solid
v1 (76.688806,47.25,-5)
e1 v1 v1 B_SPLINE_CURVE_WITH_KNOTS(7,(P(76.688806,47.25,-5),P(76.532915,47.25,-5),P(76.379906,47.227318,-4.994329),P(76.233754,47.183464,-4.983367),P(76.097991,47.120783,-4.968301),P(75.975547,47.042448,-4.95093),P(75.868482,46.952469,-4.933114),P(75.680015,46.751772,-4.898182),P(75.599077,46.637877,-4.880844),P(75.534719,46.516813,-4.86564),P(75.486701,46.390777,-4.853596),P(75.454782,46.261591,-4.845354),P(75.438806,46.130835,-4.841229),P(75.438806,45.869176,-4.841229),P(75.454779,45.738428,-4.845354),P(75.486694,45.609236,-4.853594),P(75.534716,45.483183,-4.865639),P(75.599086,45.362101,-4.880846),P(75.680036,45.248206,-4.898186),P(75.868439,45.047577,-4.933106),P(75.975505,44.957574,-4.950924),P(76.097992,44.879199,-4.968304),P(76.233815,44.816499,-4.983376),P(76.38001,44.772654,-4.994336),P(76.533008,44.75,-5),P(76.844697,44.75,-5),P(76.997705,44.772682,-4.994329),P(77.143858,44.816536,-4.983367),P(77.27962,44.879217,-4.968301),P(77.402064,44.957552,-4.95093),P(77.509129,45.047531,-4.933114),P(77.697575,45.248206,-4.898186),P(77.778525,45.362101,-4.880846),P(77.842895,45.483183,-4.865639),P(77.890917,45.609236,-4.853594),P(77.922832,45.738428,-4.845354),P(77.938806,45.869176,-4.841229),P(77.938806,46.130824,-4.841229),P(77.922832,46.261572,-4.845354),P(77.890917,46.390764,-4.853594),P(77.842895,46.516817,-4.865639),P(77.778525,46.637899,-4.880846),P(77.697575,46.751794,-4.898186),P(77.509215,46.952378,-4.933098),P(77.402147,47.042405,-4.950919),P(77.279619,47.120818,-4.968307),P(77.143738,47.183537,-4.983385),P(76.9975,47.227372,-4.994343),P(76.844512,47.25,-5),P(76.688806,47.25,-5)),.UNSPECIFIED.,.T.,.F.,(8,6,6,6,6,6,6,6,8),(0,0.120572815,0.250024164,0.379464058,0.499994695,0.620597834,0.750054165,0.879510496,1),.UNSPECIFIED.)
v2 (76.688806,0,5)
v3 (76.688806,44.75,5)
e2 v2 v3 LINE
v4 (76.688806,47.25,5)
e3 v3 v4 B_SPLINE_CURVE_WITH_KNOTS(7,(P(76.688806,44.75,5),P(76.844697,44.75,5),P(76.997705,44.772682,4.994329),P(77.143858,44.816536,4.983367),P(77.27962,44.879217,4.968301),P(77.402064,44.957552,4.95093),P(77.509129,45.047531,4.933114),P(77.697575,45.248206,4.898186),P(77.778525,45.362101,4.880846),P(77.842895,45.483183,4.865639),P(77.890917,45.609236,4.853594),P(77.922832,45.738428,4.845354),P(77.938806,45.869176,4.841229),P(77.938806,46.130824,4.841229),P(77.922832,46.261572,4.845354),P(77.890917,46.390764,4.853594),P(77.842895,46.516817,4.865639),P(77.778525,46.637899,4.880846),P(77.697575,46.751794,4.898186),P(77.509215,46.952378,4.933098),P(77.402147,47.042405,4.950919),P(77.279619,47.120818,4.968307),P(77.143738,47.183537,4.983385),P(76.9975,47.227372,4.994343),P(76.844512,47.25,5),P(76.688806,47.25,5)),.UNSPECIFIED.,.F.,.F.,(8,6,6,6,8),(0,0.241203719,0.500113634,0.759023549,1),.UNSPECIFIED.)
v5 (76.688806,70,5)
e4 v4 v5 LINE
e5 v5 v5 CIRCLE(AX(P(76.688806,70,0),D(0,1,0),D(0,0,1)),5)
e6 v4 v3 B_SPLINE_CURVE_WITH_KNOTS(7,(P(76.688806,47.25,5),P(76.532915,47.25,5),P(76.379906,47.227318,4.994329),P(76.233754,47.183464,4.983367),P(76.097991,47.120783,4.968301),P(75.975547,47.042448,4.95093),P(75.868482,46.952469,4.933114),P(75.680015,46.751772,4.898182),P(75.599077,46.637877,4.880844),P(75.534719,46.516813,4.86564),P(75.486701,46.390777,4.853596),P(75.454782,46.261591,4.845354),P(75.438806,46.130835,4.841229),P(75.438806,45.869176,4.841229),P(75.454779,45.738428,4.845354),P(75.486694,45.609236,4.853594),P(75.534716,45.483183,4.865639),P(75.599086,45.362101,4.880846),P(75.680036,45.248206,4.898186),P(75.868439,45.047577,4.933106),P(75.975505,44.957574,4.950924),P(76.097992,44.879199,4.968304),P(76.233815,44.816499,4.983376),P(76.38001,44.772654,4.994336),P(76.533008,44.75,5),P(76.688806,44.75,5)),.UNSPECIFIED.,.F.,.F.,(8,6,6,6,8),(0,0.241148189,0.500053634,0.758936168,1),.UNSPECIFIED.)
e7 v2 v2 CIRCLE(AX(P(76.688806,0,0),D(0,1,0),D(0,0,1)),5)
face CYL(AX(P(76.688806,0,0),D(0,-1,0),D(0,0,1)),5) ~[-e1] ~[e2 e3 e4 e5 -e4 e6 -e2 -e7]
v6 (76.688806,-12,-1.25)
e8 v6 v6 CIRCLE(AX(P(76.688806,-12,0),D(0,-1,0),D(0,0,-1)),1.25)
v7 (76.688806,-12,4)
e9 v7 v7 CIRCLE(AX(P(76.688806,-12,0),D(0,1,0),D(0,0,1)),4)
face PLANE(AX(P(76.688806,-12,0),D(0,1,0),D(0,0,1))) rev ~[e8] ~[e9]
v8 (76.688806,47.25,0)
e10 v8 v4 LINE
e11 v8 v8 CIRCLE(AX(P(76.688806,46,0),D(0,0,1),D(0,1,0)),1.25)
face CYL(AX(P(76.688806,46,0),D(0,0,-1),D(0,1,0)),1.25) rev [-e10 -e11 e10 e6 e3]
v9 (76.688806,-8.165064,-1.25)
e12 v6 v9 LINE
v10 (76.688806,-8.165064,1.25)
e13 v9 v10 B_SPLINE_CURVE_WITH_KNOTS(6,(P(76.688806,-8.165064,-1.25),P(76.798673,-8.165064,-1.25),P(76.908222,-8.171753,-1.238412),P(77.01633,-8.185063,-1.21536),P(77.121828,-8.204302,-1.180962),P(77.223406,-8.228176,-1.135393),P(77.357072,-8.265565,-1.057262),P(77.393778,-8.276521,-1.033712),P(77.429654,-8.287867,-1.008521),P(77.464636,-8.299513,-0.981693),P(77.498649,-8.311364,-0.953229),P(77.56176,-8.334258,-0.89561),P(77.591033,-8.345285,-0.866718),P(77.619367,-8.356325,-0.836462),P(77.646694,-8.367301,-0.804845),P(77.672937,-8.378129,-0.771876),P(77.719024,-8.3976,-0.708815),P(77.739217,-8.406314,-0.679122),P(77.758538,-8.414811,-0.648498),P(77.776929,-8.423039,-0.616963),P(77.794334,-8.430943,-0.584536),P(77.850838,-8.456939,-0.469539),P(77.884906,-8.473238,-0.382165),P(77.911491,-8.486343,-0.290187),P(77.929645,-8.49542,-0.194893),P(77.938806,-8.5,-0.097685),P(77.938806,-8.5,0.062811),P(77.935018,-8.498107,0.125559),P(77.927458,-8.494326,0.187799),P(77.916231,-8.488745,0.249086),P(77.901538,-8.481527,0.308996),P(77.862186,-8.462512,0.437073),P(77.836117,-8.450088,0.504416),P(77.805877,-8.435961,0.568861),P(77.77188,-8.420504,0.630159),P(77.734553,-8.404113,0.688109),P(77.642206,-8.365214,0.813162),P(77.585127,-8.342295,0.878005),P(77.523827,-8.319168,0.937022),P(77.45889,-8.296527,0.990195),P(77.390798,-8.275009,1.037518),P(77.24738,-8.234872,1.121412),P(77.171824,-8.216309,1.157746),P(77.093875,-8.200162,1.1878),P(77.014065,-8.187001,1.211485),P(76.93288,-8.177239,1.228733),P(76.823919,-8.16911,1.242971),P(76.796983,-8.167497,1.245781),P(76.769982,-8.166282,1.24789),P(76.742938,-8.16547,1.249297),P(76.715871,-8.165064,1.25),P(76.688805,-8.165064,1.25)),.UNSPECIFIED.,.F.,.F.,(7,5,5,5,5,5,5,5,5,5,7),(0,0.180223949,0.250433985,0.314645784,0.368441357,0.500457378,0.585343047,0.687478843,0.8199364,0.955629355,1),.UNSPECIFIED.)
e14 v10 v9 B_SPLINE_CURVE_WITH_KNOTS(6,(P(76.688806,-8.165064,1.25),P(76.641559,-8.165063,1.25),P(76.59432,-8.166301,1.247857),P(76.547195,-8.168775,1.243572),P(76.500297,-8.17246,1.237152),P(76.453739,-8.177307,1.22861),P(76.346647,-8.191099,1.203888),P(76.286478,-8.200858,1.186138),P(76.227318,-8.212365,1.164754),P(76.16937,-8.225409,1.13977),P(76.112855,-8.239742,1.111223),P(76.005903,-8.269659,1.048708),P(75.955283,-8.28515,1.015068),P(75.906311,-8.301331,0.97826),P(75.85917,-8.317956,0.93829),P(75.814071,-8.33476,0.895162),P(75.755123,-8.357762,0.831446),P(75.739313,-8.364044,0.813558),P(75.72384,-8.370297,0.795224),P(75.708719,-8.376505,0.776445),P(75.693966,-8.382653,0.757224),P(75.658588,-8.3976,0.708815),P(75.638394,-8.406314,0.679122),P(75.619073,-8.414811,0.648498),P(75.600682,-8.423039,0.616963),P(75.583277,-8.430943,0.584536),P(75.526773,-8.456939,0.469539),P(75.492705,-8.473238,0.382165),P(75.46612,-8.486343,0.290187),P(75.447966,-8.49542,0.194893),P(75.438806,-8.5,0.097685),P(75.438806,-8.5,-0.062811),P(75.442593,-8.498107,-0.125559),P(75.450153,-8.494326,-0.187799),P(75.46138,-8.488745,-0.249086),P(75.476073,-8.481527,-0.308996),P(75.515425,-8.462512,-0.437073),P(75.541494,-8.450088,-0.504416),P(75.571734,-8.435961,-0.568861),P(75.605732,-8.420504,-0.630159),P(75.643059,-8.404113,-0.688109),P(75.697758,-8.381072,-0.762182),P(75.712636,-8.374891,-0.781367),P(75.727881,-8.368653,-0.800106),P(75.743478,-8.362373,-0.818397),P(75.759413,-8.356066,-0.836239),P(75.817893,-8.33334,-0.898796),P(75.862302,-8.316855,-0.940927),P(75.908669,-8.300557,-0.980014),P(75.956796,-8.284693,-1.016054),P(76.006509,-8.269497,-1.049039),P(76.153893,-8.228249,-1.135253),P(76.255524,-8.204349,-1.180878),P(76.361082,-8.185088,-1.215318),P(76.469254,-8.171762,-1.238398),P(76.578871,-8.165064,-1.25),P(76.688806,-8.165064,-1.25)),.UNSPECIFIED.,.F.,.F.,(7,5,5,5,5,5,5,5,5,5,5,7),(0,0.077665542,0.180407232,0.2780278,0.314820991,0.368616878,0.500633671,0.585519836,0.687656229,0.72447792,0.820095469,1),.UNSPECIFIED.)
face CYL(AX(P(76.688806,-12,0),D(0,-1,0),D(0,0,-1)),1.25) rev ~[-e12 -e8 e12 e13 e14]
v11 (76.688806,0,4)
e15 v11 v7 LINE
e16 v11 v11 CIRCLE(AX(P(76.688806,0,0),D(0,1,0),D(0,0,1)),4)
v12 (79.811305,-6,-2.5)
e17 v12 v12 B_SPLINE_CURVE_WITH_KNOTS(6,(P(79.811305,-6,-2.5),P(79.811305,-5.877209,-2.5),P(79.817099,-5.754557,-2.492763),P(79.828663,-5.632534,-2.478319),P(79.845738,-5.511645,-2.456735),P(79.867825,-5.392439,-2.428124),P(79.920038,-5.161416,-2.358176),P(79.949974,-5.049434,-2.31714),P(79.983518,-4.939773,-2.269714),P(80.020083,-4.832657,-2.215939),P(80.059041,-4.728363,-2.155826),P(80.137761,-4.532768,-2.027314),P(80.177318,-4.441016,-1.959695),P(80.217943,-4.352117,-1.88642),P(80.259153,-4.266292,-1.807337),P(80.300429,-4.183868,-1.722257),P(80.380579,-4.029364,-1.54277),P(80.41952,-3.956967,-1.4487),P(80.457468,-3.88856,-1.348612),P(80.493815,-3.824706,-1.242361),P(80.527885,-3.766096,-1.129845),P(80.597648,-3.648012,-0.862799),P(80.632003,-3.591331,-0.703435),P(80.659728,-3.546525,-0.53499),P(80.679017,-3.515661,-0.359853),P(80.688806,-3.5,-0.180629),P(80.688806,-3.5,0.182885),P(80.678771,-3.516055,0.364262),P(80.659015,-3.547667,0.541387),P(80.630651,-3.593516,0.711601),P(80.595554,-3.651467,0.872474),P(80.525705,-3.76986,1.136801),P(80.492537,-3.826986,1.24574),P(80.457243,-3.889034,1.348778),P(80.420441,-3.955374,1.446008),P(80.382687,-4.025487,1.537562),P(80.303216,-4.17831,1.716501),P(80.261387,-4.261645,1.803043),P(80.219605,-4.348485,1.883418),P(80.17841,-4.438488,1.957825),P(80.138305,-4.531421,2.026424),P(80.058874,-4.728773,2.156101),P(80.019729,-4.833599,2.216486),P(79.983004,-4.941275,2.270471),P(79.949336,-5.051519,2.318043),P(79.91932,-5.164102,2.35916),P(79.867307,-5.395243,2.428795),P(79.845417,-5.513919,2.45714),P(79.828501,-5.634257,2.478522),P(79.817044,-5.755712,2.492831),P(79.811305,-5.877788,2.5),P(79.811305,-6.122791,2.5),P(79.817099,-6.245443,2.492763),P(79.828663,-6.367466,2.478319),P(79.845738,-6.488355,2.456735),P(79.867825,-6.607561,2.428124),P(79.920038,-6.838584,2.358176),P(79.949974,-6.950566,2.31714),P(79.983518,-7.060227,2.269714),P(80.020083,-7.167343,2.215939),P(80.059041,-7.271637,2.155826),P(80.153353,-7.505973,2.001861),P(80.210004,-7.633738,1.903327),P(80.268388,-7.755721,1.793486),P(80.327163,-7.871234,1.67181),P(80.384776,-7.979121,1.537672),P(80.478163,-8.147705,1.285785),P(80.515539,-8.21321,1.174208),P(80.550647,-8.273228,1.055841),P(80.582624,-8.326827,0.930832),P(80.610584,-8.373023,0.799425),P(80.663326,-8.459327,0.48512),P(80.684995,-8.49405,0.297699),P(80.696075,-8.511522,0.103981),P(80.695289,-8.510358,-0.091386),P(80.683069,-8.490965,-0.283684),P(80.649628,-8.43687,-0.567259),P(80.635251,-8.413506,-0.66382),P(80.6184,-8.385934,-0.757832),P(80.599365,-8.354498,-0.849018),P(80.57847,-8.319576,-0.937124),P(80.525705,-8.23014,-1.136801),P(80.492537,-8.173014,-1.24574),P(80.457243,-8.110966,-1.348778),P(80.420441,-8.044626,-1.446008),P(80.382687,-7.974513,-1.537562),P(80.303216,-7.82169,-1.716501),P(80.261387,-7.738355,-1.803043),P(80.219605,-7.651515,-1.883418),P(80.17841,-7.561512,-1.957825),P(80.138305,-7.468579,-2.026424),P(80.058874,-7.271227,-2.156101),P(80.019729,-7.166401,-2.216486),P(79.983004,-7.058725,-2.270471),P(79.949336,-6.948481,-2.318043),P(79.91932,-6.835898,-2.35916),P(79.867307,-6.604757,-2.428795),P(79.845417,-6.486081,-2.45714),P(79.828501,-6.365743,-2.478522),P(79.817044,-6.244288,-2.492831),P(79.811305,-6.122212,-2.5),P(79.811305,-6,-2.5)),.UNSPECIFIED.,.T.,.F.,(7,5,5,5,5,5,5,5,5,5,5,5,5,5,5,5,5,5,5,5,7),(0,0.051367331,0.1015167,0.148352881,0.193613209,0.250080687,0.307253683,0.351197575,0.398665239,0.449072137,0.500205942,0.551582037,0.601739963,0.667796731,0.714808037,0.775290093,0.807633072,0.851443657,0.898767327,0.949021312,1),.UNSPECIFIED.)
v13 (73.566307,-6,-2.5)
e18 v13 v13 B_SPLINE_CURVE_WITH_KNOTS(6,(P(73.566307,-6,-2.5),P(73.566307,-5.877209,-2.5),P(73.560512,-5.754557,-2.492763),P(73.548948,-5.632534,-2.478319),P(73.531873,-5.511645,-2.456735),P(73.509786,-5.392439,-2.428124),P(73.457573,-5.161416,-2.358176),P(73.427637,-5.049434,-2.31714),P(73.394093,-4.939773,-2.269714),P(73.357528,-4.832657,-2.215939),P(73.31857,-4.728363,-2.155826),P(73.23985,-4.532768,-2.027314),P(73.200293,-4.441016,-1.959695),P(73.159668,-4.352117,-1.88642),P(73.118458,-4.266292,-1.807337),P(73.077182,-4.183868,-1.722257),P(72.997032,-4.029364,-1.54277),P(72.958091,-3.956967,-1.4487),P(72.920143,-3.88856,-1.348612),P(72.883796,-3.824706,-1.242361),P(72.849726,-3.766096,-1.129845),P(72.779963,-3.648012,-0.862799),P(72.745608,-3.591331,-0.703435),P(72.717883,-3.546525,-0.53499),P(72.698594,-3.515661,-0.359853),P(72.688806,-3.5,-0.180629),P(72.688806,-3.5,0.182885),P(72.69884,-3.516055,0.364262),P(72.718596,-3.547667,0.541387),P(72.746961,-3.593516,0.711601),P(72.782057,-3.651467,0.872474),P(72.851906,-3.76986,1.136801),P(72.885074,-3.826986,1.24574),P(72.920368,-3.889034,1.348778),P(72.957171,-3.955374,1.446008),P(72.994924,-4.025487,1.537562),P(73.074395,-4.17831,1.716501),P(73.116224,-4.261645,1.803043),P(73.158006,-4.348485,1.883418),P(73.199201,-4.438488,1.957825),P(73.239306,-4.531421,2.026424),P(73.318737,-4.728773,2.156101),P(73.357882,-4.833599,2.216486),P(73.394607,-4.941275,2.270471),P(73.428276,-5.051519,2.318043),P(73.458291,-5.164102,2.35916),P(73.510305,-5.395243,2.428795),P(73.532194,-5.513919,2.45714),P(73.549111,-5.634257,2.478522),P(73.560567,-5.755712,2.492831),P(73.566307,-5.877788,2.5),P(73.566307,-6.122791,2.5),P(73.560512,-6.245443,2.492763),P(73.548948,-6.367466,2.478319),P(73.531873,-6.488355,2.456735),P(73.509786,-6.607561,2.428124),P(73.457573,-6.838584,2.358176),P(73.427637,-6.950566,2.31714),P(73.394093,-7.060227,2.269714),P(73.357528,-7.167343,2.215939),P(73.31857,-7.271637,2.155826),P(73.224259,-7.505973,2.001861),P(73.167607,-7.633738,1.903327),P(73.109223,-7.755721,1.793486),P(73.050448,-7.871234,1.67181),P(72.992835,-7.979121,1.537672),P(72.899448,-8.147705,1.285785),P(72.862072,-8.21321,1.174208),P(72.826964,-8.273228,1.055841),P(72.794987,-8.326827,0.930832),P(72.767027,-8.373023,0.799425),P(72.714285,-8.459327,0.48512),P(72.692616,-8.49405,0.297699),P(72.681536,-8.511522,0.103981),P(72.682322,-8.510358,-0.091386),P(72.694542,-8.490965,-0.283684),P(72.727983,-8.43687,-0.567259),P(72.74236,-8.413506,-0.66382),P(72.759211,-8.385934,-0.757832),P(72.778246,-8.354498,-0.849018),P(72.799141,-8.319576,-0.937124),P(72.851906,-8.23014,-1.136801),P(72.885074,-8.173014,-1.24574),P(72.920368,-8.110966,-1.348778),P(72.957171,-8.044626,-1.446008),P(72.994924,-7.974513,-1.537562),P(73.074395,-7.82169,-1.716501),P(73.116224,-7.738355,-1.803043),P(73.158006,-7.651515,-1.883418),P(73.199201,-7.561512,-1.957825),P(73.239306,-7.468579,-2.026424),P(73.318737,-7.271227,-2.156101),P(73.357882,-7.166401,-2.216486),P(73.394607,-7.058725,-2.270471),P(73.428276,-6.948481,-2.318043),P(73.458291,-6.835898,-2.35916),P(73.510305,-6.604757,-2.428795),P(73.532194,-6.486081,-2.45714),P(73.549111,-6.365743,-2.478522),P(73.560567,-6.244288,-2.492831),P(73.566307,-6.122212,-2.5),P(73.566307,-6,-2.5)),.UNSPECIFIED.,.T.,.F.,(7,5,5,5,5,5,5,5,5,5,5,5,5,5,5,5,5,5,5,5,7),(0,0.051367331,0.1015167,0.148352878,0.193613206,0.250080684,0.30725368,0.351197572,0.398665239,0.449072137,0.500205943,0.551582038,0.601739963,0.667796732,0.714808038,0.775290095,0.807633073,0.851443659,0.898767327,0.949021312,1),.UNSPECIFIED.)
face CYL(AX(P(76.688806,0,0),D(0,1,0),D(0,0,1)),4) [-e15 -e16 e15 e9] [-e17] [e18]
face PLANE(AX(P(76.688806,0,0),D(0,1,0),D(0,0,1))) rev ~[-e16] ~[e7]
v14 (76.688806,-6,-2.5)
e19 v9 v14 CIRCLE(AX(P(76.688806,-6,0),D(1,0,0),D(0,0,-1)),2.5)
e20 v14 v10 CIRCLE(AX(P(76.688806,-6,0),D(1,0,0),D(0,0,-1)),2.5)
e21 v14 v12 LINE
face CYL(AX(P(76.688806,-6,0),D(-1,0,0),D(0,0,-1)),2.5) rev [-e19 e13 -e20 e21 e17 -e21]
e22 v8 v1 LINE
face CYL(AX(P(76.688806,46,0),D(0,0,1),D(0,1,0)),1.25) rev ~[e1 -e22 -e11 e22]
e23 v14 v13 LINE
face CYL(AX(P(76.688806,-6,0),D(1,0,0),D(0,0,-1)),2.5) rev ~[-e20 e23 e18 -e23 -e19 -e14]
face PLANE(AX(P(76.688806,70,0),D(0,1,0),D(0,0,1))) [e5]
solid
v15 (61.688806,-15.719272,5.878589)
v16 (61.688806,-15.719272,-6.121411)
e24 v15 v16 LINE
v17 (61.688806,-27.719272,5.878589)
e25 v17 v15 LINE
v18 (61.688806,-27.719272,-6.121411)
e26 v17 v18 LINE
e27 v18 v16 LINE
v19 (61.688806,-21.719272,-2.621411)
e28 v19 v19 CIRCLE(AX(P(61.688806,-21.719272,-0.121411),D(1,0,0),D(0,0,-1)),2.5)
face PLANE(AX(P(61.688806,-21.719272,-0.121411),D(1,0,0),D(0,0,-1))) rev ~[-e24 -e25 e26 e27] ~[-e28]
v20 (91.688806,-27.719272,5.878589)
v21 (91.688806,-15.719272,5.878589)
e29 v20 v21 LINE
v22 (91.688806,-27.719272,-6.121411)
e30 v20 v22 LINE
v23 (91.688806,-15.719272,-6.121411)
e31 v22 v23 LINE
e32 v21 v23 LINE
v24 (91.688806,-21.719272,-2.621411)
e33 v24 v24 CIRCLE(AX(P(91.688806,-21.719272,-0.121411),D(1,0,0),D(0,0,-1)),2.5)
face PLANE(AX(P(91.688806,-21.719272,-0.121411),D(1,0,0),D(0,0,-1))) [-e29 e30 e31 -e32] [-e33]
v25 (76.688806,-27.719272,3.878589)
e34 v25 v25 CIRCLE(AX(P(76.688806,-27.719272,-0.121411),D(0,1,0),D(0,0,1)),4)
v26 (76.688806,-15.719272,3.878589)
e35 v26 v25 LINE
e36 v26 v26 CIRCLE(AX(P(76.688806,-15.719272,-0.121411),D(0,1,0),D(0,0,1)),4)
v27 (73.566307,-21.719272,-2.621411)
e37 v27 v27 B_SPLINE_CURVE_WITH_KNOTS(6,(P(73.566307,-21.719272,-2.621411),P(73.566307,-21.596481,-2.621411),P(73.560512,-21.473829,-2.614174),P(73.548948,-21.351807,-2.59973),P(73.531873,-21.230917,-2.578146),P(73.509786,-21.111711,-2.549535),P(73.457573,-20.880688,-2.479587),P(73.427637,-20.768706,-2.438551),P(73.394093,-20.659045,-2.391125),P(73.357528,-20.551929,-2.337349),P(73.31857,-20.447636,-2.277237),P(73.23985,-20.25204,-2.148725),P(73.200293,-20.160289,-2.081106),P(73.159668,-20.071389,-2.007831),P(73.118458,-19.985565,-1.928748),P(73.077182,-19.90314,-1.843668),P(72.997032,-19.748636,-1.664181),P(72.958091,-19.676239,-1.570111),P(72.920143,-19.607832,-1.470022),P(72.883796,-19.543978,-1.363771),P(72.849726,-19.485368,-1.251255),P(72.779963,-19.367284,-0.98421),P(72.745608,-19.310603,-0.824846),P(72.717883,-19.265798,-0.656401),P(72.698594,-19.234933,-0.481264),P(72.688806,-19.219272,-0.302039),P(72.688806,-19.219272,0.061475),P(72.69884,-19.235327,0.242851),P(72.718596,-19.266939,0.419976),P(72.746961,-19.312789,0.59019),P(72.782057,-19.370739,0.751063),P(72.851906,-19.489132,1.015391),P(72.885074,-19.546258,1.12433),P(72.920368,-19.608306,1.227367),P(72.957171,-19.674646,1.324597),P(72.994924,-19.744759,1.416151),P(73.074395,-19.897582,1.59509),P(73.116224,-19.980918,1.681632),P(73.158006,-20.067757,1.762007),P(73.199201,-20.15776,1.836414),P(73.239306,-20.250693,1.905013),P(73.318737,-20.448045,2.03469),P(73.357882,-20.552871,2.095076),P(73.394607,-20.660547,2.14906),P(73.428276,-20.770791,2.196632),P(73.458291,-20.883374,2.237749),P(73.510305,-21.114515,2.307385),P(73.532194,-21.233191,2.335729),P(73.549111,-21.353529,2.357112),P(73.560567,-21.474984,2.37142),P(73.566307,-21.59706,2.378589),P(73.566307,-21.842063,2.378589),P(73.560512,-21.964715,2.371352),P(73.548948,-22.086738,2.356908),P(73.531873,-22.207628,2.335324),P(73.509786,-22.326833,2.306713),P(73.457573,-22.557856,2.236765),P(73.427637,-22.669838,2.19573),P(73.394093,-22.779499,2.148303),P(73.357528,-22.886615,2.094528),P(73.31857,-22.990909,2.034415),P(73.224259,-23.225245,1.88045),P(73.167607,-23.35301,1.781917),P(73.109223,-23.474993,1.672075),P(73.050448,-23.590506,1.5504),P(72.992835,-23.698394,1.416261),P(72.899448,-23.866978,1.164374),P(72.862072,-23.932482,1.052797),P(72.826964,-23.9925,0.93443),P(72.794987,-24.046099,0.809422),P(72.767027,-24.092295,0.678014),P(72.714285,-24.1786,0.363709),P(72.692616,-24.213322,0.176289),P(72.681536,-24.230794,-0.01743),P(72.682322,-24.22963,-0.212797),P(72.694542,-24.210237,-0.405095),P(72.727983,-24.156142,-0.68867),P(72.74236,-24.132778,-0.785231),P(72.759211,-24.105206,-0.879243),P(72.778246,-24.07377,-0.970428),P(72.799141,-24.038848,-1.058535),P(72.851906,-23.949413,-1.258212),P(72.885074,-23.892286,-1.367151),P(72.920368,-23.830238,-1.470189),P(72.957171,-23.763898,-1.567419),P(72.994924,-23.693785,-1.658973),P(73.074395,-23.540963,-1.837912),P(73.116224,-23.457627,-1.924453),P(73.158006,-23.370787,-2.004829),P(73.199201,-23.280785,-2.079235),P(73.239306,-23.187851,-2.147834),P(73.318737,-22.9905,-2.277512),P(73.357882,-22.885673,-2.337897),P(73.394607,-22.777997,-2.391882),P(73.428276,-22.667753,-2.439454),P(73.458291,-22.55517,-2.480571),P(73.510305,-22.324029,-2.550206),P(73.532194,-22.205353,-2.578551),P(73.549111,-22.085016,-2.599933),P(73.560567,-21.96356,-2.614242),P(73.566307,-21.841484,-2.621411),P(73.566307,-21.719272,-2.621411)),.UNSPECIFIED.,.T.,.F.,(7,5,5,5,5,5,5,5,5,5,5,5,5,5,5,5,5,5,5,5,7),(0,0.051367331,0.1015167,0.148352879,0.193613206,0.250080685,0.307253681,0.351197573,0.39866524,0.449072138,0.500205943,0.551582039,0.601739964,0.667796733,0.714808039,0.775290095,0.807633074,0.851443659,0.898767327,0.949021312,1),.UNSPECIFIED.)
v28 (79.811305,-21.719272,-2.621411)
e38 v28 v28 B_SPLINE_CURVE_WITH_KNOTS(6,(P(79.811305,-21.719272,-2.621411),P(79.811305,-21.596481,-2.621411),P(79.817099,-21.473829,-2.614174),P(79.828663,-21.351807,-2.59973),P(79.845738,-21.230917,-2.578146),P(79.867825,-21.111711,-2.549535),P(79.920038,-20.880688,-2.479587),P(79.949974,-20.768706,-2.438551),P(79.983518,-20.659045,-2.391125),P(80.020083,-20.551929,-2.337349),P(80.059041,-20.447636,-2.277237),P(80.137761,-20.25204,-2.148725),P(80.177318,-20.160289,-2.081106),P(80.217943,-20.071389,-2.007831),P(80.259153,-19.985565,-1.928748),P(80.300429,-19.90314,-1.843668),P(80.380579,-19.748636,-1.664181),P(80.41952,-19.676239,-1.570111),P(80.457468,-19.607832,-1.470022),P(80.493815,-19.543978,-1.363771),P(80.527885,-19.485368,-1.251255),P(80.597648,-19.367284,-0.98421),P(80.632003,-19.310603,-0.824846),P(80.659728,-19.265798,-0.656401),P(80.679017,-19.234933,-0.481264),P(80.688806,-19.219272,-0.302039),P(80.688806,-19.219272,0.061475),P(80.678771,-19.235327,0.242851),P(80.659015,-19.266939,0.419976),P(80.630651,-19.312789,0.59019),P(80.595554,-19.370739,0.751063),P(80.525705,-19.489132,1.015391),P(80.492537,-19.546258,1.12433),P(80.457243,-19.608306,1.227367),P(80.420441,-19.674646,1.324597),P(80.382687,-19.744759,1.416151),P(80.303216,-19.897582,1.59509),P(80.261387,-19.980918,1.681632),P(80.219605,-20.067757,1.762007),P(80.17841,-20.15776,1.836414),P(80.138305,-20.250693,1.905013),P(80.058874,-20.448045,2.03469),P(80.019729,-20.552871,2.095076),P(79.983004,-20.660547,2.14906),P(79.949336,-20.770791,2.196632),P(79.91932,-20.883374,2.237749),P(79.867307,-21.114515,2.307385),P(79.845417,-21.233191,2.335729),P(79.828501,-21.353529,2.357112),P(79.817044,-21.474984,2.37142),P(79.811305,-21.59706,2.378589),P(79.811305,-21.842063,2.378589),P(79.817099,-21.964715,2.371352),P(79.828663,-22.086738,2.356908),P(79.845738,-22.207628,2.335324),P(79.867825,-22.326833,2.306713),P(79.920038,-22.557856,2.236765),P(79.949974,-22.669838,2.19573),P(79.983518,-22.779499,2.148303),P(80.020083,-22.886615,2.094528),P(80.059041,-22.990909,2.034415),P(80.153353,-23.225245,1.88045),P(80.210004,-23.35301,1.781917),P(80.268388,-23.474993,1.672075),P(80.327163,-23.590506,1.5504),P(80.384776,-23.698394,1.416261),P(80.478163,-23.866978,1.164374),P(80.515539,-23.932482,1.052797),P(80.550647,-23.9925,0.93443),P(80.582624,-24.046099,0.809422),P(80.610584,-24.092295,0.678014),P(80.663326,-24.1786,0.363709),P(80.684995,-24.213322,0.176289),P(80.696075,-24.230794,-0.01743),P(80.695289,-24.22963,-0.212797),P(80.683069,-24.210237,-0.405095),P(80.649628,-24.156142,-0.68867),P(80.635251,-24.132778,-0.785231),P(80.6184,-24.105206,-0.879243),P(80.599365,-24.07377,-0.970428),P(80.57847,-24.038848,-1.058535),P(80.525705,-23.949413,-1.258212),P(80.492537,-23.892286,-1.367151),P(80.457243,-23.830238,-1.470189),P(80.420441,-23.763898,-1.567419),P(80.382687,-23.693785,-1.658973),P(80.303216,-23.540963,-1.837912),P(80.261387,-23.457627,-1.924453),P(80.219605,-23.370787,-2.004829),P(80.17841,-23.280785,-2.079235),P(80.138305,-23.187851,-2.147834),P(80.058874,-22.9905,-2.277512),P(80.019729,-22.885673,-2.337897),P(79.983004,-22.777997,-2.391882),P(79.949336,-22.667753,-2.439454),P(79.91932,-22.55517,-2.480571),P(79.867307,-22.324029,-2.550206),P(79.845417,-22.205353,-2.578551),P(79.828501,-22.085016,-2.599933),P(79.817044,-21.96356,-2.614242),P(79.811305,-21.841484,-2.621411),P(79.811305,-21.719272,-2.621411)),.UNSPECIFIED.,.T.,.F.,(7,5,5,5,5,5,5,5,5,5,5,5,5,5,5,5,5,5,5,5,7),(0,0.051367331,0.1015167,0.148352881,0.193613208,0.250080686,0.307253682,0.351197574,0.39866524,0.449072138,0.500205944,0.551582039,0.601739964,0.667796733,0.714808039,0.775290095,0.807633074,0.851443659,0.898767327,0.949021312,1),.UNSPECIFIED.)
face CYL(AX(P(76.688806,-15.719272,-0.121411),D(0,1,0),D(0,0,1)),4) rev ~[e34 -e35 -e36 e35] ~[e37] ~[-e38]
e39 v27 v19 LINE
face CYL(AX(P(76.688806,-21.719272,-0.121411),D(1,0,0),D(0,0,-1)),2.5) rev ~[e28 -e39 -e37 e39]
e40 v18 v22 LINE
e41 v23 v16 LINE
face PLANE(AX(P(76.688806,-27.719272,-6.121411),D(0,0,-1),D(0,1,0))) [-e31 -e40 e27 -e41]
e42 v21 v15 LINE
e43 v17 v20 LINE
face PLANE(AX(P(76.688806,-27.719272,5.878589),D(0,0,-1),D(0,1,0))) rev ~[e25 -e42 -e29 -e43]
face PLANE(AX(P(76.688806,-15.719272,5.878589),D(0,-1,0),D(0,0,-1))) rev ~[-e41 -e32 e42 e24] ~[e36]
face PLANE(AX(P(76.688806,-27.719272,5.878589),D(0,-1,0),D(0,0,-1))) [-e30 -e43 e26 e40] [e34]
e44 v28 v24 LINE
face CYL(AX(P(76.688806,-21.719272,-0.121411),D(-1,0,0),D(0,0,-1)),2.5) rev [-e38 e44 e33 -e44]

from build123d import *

# Parameters (mm, degrees)
ESQUISSE5_R                  = 4
BOSS_EXTRU_3_DEPTH           = 12
ESQUISSE6_R                  = 5
BOSS_EXTRU_4_DEPTH           = 70
ESQUISSE7_R                  = 2.5
ENL_V_MAT_EXTRU_3_DEPTH      = 10
ENL_V_MAT_EXTRU_3_DEPTH_BACK = 10
ESQUISSE8_R                  = 1.25
ENL_V_MAT_EXTRU_4_DEPTH      = 4
ESQUISSE9_W                  = 12
ESQUISSE9_H                  = 12
ESQUISSE9_R                  = 2.5
BOSS_EXTRU_5_DEPTH           = 15
BOSS_EXTRU_5_DEPTH_BACK      = 15
ESQUISSE10_R                 = 4
ENL_V_MAT_EXTRU_5_DEPTH      = 15
ESQUISSE11_R                 = 1.25
ENL_V_MAT_EXTRU_6_DEPTH      = 10
ENL_V_MAT_EXTRU_6_DEPTH_BACK = 10


with BuildPart() as part:
    # Esquisse5 → Boss.-Extru.3 (new body)
    with BuildSketch(Plane(origin=(0, 0, 0), x_dir=(1, 0, 0), z_dir=(0, 1, 0))):
        with Locations(Location((76.688805558, 0, 0), (0, 0, 270))):  # turned: the seam where the file's is
            Circle(ESQUISSE5_R)
    extrude(amount=-BOSS_EXTRU_3_DEPTH)

    # Esquisse6 → Boss.-Extru.4 (add)
    with BuildSketch(Plane(origin=(0, 0, 0), x_dir=(1, 0, 0), z_dir=(0, 1, 0))):
        with Locations(Location((76.688805558, 0, 0), (0, 0, 270))):  # turned: the seam where the file's is
            Circle(ESQUISSE6_R)
    extrude(amount=BOSS_EXTRU_4_DEPTH)

    # Esquisse7 → Enl_v. mat.-Extru.3 (cut, two sides)
    with BuildSketch(Plane(origin=(76.688805558, 0, 0), x_dir=(0, 0, -1), z_dir=(1, 0, 0))) as enl_v_mat_extru_3_sk:
        with Locations((0, -6)):
            Circle(ESQUISSE7_R)
    extrude(amount=ENL_V_MAT_EXTRU_3_DEPTH, mode=Mode.SUBTRACT)
    extrude(enl_v_mat_extru_3_sk.sketch, amount=-ENL_V_MAT_EXTRU_3_DEPTH_BACK, mode=Mode.SUBTRACT)

    # Esquisse8 → Enl_v. mat.-Extru.4 (cut)
    with BuildSketch(Plane.XZ.offset(12)):
        with Locations(Location((76.688805558, 0, 0), (0, 0, 270))):  # turned: the seam where the file's is
            Circle(ESQUISSE8_R)
    extrude(amount=-ENL_V_MAT_EXTRU_4_DEPTH, mode=Mode.SUBTRACT)

    # Esquisse11 → Enl_v. mat.-Extru.6 (cut, two sides)
    with BuildSketch(Plane.XY) as enl_v_mat_extru_6_sk:
        with Locations(Location((76.688805558, 46, 0), (0, 0, 89.999999996))):  # turned: the seam where the file's is
            Circle(ESQUISSE11_R)
    extrude(amount=ENL_V_MAT_EXTRU_6_DEPTH, mode=Mode.SUBTRACT)
    extrude(enl_v_mat_extru_6_sk.sketch, amount=-ENL_V_MAT_EXTRU_6_DEPTH_BACK, mode=Mode.SUBTRACT)


with BuildPart() as body_2:
    # Esquisse9 → Boss.-Extru.5 (new body, two sides)
    with BuildSketch(Plane(origin=(76.688805558, 0, 0), x_dir=(0, 0, -1), z_dir=(1, 0, 0))) as boss_extru_5_sk:
        with Locations((0.121410783, -21.719272195)):
            Rectangle(ESQUISSE9_W, ESQUISSE9_H)
        with Locations((0.121410783, -21.719272195)):
            Circle(ESQUISSE9_R, mode=Mode.SUBTRACT)
    extrude(amount=BOSS_EXTRU_5_DEPTH)
    extrude(boss_extru_5_sk.sketch, amount=-BOSS_EXTRU_5_DEPTH_BACK)

    # Esquisse10 → Enl_v. mat.-Extru.5 (cut)
    with BuildSketch(Plane(origin=(0, -15.719272195, 0), x_dir=(1, 0, 0), z_dir=(0, 1, 0))):
        with Locations(Location((76.688805558, 0.121410783, 0), (0, 0, 270))):  # turned: the seam where the file's is
            Circle(ESQUISSE10_R)
    extrude(amount=-ENL_V_MAT_EXTRU_5_DEPTH, mode=Mode.SUBTRACT)


solid = Compound([part.part, body_2.part])
